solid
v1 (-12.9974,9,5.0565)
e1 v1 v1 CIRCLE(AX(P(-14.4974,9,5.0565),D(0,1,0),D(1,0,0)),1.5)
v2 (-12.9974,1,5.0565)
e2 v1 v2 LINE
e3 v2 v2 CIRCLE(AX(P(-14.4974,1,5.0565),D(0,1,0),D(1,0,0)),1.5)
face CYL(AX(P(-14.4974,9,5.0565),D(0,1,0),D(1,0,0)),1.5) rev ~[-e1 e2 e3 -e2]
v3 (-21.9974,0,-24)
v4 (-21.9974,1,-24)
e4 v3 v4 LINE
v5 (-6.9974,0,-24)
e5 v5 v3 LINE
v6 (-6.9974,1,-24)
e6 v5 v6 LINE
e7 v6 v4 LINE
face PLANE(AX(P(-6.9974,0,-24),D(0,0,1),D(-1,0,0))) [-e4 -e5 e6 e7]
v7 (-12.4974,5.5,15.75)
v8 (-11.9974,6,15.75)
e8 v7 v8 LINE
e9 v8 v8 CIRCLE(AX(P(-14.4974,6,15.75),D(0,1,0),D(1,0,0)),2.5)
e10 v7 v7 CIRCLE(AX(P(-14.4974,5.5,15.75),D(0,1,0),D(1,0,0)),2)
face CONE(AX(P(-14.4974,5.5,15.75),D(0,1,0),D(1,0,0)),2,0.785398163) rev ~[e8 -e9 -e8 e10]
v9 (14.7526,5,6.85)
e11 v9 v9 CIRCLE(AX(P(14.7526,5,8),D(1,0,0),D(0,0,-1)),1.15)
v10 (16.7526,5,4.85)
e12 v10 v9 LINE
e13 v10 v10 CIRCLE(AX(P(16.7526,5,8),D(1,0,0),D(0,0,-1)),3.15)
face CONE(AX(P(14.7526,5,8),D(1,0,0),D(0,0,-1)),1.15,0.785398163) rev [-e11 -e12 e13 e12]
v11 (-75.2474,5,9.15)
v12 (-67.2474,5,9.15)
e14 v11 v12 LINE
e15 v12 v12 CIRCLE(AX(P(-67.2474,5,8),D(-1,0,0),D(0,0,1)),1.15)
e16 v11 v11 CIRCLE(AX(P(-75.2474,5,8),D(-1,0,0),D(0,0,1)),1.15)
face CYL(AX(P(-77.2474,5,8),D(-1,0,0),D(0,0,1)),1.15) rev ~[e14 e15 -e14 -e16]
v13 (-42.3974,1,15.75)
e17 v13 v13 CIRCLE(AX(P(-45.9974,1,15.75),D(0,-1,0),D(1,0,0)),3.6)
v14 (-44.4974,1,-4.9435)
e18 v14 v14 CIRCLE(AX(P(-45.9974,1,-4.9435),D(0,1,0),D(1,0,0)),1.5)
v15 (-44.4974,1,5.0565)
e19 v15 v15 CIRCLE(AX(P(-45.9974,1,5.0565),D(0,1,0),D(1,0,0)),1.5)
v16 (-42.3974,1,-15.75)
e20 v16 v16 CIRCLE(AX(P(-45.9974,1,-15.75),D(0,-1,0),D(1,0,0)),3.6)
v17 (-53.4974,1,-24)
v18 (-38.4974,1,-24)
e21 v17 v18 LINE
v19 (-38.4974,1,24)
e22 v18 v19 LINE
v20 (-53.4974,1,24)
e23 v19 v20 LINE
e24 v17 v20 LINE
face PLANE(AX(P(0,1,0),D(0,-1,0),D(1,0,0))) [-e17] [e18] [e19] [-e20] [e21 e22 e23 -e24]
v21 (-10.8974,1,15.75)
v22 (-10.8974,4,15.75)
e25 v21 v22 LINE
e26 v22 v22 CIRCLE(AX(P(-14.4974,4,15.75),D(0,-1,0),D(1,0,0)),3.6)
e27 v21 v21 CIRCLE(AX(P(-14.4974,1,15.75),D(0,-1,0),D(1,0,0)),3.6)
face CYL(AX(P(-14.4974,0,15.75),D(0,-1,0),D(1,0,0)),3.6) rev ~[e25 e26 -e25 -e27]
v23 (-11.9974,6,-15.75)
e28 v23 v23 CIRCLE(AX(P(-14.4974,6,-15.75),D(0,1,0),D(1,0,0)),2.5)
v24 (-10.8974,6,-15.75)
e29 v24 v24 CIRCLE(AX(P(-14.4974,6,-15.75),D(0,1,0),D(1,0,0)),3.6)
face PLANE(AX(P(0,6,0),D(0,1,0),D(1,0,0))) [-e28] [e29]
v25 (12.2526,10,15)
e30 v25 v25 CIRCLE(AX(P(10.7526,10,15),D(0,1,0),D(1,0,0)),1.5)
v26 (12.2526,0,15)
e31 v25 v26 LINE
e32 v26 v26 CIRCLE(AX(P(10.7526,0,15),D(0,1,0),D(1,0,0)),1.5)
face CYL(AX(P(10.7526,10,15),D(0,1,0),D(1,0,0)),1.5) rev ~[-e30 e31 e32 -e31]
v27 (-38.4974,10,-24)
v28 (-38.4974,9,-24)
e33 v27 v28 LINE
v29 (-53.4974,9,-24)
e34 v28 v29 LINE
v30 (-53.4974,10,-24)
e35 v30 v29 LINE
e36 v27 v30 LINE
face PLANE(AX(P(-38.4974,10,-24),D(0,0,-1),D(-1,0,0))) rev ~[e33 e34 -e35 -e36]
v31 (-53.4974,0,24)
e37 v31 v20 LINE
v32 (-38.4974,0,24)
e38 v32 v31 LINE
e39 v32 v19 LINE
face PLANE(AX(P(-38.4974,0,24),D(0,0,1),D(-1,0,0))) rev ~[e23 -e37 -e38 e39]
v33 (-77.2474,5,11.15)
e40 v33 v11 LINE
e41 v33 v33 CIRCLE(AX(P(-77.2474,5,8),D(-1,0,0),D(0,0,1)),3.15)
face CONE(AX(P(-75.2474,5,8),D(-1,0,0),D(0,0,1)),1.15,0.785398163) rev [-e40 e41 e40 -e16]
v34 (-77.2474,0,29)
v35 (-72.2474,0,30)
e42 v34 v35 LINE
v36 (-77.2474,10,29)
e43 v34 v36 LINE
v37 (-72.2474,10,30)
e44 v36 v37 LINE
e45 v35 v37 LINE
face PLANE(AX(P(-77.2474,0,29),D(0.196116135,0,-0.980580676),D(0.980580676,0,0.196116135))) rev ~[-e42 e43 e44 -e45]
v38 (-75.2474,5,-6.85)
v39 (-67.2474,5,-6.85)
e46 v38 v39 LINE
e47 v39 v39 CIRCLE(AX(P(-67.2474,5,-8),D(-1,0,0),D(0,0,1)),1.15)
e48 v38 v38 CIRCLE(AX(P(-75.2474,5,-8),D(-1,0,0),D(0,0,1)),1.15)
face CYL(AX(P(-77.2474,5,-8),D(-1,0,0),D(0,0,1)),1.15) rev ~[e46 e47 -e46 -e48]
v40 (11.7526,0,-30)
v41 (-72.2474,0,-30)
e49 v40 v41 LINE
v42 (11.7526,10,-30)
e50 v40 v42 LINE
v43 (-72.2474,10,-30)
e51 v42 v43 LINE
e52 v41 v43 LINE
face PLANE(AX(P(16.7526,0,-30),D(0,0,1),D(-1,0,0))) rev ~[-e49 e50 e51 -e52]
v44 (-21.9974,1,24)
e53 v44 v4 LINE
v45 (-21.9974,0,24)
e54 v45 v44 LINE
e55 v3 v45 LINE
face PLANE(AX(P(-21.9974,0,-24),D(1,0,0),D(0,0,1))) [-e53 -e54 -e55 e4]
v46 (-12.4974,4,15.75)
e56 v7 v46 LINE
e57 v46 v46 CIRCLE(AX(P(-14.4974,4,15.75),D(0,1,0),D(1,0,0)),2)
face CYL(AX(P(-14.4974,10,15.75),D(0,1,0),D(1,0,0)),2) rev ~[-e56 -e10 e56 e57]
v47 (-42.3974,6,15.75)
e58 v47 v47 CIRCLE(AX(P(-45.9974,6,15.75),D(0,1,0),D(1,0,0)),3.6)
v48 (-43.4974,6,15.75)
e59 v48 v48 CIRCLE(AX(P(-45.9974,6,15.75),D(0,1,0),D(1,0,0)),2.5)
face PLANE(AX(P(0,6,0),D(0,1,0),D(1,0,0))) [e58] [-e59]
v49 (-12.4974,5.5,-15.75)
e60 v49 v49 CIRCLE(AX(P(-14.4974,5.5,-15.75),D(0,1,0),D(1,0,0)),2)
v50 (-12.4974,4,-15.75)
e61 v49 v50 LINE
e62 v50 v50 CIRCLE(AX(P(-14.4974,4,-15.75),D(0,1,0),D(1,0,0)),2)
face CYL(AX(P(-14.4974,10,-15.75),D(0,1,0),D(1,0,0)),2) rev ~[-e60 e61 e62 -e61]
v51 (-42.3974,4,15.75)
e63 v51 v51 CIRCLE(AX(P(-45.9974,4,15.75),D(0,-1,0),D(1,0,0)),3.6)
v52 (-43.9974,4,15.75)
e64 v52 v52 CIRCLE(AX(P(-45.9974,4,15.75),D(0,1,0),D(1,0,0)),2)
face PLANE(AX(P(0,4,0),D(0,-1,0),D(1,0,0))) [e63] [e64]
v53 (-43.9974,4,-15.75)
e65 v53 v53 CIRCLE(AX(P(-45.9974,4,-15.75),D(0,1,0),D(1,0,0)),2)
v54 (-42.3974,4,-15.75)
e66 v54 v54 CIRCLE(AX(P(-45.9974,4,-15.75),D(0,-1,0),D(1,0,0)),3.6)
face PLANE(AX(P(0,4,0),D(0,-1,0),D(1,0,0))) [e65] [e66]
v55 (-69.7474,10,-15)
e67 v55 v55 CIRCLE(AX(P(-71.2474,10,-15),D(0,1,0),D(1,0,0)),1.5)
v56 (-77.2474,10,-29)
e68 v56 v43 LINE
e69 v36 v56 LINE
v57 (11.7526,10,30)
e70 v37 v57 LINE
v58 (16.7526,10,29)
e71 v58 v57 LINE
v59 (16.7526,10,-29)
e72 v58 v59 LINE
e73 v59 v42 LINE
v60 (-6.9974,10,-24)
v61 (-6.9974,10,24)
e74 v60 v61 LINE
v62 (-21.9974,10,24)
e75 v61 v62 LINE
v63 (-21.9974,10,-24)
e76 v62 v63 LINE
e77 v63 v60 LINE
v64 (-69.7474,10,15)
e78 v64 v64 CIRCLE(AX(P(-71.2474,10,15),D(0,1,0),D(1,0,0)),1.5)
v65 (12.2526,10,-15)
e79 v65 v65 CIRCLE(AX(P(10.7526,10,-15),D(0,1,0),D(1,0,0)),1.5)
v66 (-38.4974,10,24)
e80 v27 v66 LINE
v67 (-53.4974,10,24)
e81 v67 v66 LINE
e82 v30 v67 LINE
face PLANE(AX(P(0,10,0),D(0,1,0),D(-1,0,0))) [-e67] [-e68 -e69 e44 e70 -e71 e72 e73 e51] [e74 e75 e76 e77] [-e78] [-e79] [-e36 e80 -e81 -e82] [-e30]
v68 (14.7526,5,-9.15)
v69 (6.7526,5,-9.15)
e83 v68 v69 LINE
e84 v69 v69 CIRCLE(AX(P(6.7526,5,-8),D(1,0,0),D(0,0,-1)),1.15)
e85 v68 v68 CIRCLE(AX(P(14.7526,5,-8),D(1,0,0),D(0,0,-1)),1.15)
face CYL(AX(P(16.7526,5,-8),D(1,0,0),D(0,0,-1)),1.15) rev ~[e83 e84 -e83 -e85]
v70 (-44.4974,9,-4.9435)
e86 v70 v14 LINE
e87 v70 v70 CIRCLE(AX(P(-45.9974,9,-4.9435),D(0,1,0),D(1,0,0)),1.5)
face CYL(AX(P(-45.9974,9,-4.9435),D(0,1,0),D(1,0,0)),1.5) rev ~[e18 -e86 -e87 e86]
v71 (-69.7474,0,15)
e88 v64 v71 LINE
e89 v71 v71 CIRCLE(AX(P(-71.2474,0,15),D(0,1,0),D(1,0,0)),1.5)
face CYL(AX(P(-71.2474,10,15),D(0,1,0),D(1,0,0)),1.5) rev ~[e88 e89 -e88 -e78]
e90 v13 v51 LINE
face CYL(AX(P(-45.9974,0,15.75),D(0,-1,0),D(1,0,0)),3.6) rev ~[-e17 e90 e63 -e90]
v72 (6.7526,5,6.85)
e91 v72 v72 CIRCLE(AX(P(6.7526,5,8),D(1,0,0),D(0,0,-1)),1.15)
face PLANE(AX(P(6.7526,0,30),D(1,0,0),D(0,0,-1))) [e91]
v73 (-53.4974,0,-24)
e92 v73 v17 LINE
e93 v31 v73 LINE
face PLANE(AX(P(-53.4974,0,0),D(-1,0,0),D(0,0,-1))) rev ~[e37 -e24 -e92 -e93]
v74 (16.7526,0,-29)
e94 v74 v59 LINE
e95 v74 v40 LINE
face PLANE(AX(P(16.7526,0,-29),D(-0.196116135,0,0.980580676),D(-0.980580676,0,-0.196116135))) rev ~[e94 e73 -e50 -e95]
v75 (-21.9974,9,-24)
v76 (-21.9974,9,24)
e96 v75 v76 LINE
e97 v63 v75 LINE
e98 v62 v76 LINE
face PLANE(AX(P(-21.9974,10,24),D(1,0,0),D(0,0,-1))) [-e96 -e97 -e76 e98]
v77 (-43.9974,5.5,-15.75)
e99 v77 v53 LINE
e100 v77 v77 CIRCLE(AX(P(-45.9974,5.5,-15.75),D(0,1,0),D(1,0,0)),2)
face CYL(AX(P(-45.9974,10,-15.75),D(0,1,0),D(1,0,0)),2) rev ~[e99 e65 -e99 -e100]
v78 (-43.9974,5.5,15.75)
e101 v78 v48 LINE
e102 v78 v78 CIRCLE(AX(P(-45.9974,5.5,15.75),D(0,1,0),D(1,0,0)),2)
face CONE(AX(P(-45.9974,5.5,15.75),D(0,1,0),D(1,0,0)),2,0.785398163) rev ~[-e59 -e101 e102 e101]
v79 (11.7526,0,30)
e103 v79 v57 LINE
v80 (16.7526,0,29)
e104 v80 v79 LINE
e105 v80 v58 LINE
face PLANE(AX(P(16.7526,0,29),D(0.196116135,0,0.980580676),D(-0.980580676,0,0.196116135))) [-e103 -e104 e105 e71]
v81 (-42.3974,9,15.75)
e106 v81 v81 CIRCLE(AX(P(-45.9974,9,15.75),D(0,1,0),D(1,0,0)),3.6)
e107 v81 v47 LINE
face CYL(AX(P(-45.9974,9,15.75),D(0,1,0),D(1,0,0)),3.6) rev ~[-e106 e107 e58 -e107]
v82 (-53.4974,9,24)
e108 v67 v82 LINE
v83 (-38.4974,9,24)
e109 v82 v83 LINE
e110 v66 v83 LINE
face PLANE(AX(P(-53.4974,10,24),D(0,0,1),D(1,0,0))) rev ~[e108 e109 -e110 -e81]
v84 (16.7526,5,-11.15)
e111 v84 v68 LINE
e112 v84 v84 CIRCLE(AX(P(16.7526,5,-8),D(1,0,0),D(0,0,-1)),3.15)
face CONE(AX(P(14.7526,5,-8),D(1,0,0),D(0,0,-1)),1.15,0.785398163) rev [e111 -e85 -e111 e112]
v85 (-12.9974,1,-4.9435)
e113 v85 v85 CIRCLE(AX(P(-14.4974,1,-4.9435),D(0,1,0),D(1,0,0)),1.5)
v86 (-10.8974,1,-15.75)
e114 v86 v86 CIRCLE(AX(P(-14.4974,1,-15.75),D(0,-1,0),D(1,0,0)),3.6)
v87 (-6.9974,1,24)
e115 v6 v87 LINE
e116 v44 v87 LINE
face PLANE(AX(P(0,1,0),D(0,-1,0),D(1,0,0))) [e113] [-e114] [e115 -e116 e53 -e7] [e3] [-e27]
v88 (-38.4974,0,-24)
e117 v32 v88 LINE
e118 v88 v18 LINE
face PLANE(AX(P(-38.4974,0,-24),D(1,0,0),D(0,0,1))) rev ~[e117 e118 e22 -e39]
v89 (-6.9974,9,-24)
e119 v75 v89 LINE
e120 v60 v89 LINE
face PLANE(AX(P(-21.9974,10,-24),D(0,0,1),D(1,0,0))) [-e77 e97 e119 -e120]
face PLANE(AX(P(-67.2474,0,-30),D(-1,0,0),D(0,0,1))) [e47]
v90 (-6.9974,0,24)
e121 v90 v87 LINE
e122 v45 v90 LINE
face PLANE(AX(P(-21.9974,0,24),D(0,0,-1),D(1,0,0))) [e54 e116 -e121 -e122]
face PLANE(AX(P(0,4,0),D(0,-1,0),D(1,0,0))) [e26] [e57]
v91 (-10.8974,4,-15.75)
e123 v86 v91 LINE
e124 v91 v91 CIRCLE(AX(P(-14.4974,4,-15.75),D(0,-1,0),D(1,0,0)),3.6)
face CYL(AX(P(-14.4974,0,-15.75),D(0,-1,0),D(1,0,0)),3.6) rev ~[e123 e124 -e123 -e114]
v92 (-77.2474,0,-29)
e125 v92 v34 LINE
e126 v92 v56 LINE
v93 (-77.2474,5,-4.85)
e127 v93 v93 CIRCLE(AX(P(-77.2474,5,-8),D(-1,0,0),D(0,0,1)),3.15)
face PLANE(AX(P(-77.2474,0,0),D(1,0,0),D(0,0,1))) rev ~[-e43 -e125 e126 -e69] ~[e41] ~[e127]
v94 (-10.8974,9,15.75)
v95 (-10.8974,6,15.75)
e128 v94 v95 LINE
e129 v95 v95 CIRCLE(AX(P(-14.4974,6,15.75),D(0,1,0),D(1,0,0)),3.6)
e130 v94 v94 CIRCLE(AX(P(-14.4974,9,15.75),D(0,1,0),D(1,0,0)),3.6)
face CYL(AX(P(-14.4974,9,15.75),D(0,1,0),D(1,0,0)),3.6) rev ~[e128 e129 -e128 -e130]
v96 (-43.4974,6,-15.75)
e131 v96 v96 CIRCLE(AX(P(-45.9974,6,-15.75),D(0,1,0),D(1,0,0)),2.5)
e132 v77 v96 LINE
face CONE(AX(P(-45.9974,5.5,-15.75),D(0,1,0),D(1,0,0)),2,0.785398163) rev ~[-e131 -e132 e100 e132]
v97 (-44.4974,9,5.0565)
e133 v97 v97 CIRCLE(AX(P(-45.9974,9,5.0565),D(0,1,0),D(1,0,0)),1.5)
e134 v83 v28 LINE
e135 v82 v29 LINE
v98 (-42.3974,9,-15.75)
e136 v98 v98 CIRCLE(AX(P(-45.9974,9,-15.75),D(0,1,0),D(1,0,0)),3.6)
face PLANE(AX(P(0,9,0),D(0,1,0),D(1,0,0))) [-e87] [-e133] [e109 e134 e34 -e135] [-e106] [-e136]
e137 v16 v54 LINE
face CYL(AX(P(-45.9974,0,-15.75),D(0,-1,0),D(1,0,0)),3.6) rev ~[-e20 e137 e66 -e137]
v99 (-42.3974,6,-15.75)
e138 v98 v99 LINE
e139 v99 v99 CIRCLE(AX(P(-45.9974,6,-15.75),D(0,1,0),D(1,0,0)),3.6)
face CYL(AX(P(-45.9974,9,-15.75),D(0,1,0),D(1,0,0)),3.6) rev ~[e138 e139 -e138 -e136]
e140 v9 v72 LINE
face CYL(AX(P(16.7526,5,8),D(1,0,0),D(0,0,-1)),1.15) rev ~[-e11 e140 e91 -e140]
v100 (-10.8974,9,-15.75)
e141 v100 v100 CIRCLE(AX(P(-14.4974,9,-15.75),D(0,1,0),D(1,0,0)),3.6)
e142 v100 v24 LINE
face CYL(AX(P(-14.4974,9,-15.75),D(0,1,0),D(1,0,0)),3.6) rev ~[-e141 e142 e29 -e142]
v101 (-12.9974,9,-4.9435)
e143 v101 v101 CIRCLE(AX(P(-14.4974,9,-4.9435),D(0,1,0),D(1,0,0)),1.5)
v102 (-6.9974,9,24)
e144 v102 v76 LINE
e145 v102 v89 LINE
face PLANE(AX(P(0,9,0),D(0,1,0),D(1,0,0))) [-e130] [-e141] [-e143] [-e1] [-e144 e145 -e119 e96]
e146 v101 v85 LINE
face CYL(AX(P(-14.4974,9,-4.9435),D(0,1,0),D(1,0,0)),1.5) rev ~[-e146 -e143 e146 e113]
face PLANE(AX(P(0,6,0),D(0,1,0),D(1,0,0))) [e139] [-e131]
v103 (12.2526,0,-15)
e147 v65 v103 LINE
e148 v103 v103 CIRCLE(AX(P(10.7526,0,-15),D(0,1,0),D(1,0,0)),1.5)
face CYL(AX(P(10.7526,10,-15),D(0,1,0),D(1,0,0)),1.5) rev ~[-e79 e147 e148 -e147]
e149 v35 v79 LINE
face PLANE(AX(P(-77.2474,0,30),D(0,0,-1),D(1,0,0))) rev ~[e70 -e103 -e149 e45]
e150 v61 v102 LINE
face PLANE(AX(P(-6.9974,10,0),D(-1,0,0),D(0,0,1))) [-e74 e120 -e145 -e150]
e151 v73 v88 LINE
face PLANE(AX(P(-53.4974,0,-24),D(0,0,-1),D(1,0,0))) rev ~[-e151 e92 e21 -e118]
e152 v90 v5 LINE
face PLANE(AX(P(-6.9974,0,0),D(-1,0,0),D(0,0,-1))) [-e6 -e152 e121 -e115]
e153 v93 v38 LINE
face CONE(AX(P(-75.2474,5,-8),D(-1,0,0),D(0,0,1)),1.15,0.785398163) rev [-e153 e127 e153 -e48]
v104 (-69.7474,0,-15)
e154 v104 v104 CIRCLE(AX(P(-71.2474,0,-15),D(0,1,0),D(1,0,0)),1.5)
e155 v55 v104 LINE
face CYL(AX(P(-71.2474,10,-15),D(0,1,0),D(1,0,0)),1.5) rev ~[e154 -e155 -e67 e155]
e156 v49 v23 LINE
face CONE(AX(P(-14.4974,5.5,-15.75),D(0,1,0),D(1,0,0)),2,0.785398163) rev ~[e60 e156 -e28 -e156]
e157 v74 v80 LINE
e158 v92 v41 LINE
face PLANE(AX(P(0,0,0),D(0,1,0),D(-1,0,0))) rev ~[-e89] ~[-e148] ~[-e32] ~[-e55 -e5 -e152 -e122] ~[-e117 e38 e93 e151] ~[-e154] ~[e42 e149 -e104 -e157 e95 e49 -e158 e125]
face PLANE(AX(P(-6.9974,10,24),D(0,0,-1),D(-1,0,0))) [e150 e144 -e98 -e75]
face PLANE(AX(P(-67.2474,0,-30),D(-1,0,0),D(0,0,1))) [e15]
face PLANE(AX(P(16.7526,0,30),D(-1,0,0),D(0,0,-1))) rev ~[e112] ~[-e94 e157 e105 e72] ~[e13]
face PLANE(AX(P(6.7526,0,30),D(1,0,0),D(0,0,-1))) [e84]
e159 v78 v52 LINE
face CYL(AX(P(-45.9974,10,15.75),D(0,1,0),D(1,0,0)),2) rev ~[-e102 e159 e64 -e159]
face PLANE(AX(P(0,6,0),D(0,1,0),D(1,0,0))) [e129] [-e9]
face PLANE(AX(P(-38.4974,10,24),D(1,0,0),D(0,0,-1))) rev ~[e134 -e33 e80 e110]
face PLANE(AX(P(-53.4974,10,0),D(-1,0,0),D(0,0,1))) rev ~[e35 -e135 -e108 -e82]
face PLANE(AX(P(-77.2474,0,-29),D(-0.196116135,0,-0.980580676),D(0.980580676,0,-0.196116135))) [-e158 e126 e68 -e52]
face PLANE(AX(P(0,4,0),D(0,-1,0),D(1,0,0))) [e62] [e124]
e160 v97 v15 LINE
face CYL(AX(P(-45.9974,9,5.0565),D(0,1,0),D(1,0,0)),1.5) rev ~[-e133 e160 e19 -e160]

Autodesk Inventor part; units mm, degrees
ref_plane "YZ Plane" through (0, 0, 0) normal (1, 0, 0) x (0, 1, 0)
ref_plane "XZ Plane" through (0, 0, 0) normal (0, 1, 0) x (-1, 0, 0)
ref_plane "XY Plane" through (0, 0, 0) normal (0, 0, 1) x (1, 0, 0)
sketch "Skizze1" plane through (0, 0, 0) normal (0, 1, 0) x (-1, 0, 0)
  line L0 (77.2474, 30) -> (-16.7526, 30)
  line L1 (-16.7526, 30) -> (-16.7526, -30)
  line L2 (-16.7526, -30) -> (77.2474, -30)
  line L3 (77.2474, -30) -> (77.2474, 30)
  line L4 (-35.5526, 0) -> (96.0474, 0) projected
  point P0 (0, 0)
  dimension "d0" = 30
  dimension "d1" = 60
  dimension "d2" = 94
extrude "Extrusion1" add sketch "Skizze1" along normal blind 10
sketch "Skizze4" plane through (0, 10, 0) normal (0, 1, 0) x (1, 0, 0)
  circle A0 centre (-14.4974, -15.75) radius 2
  circle A1 centre (-14.4974, 15.75) radius 2
  circle A2 centre (-45.9974, -15.75) radius 2
  circle A3 centre (-45.9974, 15.75) radius 2
  line L0 (35.5526, 0) -> (-96.0474, 0) projected
  line L1 (16.7526, -30) -> (16.7526, 30) projected
  line L2 (-77.2474, 30) -> (-77.2474, -30) projected
  point P0 (0, 0)
  dimension "d21" = 4
  dimension "d22" = 15.75
  dimension "d23" = 15.75
  dimension "d26" = 15.75
  dimension "d27" = 15.75
  dimension "d30" = 4
  dimension "d31" = 4
  dimension "d32" = 4
  dimension "d127" = 31.5
  dimension "d128" = 31.5
  dimension "d129" = 31.25
  dimension "d130" = 31.25
extrude "Extrusion4" cut sketch "Skizze4" against normal blind 10
sketch "Skizze5" plane through (0, 10, 0) normal (0, 1, 0) x (1, 0, 0)
  line L0 (-6.9974, -24) -> (-21.9974, -24)
  line L1 (-21.9974, -24) -> (-21.9974, 24)
  line L2 (-21.9974, 24) -> (-6.9974, 24)
  line L3 (-6.9974, 24) -> (-6.9974, -24)
  line L4 (-38.4974, 24) -> (-53.4974, 24)
  line L5 (-53.4974, 24) -> (-53.4974, -24)
  line L6 (-53.4974, -24) -> (-38.4974, -24)
  line L7 (-38.4974, -24) -> (-38.4974, 24)
  line L8 (35.5526, 0) -> (-96.0474, 0) projected
  line L9 (16.7526, -30) -> (16.7526, 30) projected
  line L10 (-77.2474, 30) -> (-77.2474, -30) projected
  point P0 (0, 0)
  dimension "d35" = 15
  dimension "d36" = 48
  dimension "d37" = 24
  dimension "d38" = 23.75
  dimension "d39" = 15
  dimension "d189" = 16.5
extrude "Extrusion5" cut sketch "Skizze5" against normal blind 1
sketch "Skizze6" plane through (0, 9, 0) normal (0, 1, 0) x (1, 0, 0)
  circle A0 centre (-14.4974, -15.75) radius 3.6
  circle A1 centre (-14.4974, 15.75) radius 3.6
  circle A2 centre (-45.9974, -15.75) radius 3.6
  circle A3 centre (-45.9974, 15.75) radius 3.6
  circle A4 centre (-45.9974, 15.75) radius 2 projected
  circle A5 centre (-45.9974, -15.75) radius 2 projected
  circle A6 centre (-14.4974, 15.75) radius 2 projected
  circle A7 centre (-14.4974, -15.75) radius 2 projected
  circle A8 centre (-3.2474, -15.75) radius 3.6
  circle A9 centre (-3.2474, 15.75) radius 3.6
  circle A10 centre (-45.9974, -15.75) radius 3.6
  circle A11 centre (-53.2474, 15.75) radius 3.6
  circle A12 centre (-53.2474, 15.75) radius 2
  circle A13 centre (-45.9974, -15.75) radius 2
  circle A14 centre (-3.2474, 15.75) radius 2
  circle A15 centre (-3.2474, -15.75) radius 2
  circle A16 centre (-3.2474, -15.75) radius 3.6
  circle A17 centre (-3.2474, 15.75) radius 3.6
  circle A18 centre (-45.9974, -15.75) radius 3.6
  circle A19 centre (-53.2474, 15.75) radius 3.6
  circle A20 centre (-53.2474, 15.75) radius 2
  circle A21 centre (-45.9974, -15.75) radius 2
  circle A22 centre (-3.2474, 15.75) radius 2
  circle A23 centre (-3.2474, -15.75) radius 2
  circle A24 centre (-3.2474, -15.75) radius 3.6
  circle A25 centre (-3.2474, 15.75) radius 3.6
  circle A26 centre (-53.2474, -15.75) radius 3.6
  circle A27 centre (-53.2474, 15.75) radius 3.6
  circle A28 centre (-53.2474, 15.75) radius 2
  circle A29 centre (-53.2474, -15.75) radius 2
  circle A30 centre (-3.2474, 15.75) radius 2
  circle A31 centre (-3.2474, -15.75) radius 2
  line L0 (-77.2474, 30) -> (-77.2474, -30) projected
  point P0 (0, 0)
  point P1 (0, 0)
  point P2 (0, 0)
  point P3 (0, 0)
  point P4 (-45.7474, 16.7182)
  point P5 (-45.7474, 14.7818)
  point P6 (-45.7474, -14.7818)
  point P7 (-45.7474, -16.7182)
  point P8 (-10.7474, 14.7818)
  point P9 (-10.7474, 16.7182)
  point P10 (-10.7474, -16.7182)
  point P11 (-10.7474, -14.7818)
  dimension "d43" = 7.2
  dimension "d44" = 7.2
  dimension "d45" = 7.2
  dimension "d46" = 7.2
  dimension "d79" = 7.2
  dimension "d80" = 7.2
  dimension "d81" = 7.2
  dimension "d82" = 7.2
  dimension "d83" = 7.2
  dimension "d84" = 7.2
  dimension "d85" = 7.2
  dimension "d86" = 7.2
  dimension "d87" = 7.2
  dimension "d88" = 7.2
  dimension "d89" = 7.2
  dimension "d90" = 7.2
  dimension "d142" = 31.25
  dimension "d143" = 31.25
extrude "Extrusion6" cut sketch "Skizze6" against normal blind 3 contours A0 | A1 | A2 | A3 | A4 | A5 | A6 | A7
sketch "Skizze8" plane through (0, 9, 0) normal (0, 1, 0) x (1, 0, 0)
  circle A0 centre (-14.4974, -5.0565) radius 1.5
  circle A1 centre (-14.4974, 4.9435) radius 1.5
  circle A2 centre (-45.9974, -5.0565) radius 1.5
  circle A3 centre (-45.9974, 4.9435) radius 1.5
  line L0 (-77.2474, 30) -> (-77.2474, -30) projected
  line L1 (16.7526, -30) -> (16.7526, 30) projected
  point P0 (0, 0)
  dimension "d56" = 10
  dimension "d57" = 10
  dimension "d58" = 31.25
  dimension "d59" = 31.25
  dimension "d62" = 3
  dimension "d63" = 3
  dimension "d64" = 3
  dimension "d65" = 3
  dimension "d146" = 31.25
extrude "Extrusion7" cut sketch "Skizze8" against normal blind 10
chamfer "Fase1" distance 0.5 angle 45 4 edges at (-47.9974, 6, 15.75) (-47.9974, 6, -15.75) (-16.4974, 6, -15.75) (-16.4974, 6, 15.75)
sketch "Skizze9" plane through (0, 0, 0) normal (0, -1, 0) x (1, 0, 0)
  line L0 (-6.9974, -24) -> (-21.9974, -24)
  line L1 (-21.9974, -24) -> (-21.9974, 24)
  line L2 (-21.9974, 24) -> (-6.9974, 24)
  line L3 (-6.9974, 24) -> (-6.9974, -24)
  line L4 (-38.4974, 24) -> (-53.4974, 24)
  line L5 (-53.4974, 24) -> (-53.4974, -24)
  line L6 (-53.4974, -24) -> (-38.4974, -24)
  line L7 (-38.4974, -24) -> (-38.4974, 24)
  line L8 (34.7526, 0) -> (-91.2474, 0)
  line L9 (16.7526, 30) -> (16.7526, -30) projected
  line L10 (-77.2474, -30) -> (-77.2474, 30) projected
  point P0 (0, 0)
  point P1 (0, 0)
  dimension "d71" = 15
  dimension "d72" = 48
  dimension "d73" = 24
  dimension "d75" = 15
  dimension "d144" = 23.75
  dimension "d145" = 23.75
extrude "Extrusion8" cut sketch "Skizze9" against normal blind 1
sketch "Skizze10" plane through (0, 0, 0) normal (0, -1, 0) x (1, 0, 0)
  circle A0 centre (-14.4974, -15.75) radius 3.6
  circle A1 centre (-14.4974, 15.75) radius 3.6
  circle A2 centre (-45.9974, -15.75) radius 3.6
  circle A3 centre (-45.9974, 15.75) radius 3.6
  circle A4 centre (-45.9974, 15.75) radius 2
  circle A5 centre (-45.9974, -15.75) radius 2
  circle A6 centre (-14.4974, 15.75) radius 2
  circle A7 centre (-14.4974, -15.75) radius 2
  circle A8 centre (-3.2474, -15.75) radius 3.6
  circle A9 centre (-3.2474, 15.75) radius 3.6
  circle A10 centre (-45.9974, -15.75) radius 3.6
  circle A11 centre (-53.2474, 15.75) radius 3.6
  circle A12 centre (-53.2474, 15.75) radius 2
  circle A13 centre (-45.9974, -15.75) radius 2
  circle A14 centre (-3.2474, 15.75) radius 2
  circle A15 centre (-3.2474, -15.75) radius 2
  circle A16 centre (-3.2474, -15.75) radius 3.6
  circle A17 centre (-3.2474, 15.75) radius 3.6
  circle A18 centre (-53.2474, -15.75) radius 3.6
  circle A19 centre (-53.2474, 15.75) radius 3.6
  circle A20 centre (-53.2474, 15.75) radius 2
  circle A21 centre (-53.2474, -15.75) radius 2
  circle A22 centre (-3.2474, 15.75) radius 2
  circle A23 centre (-3.2474, -15.75) radius 2
  circle A24 centre (-3.2474, -15.75) radius 3.6
  circle A25 centre (-3.2474, 15.75) radius 3.6
  circle A26 centre (-53.2474, -15.75) radius 3.6
  circle A27 centre (-53.2474, 15.75) radius 3.6
  circle A28 centre (-53.2474, 15.75) radius 2
  circle A29 centre (-53.2474, -15.75) radius 2
  circle A30 centre (-3.2474, 15.75) radius 2
  circle A31 centre (-3.2474, -15.75) radius 2
  line L0 (-77.2474, -30) -> (-77.2474, 30) projected
  line L1 (16.7526, 30) -> (16.7526, -30) projected
  point P0 (0, 0)
  point P1 (0, 0)
  point P2 (0, 0)
  point P3 (0, 0)
  point P4 (0, 0)
  dimension "d91" = 7.2
  dimension "d92" = 7.2
  dimension "d93" = 7.2
  dimension "d94" = 7.2
  dimension "d95" = 7.2
  dimension "d96" = 7.2
  dimension "d97" = 7.2
  dimension "d98" = 7.2
  dimension "d99" = 7.2
  dimension "d100" = 7.2
  dimension "d101" = 7.2
  dimension "d102" = 7.2
  dimension "d103" = 7.2
  dimension "d104" = 7.2
  dimension "d105" = 7.2
  dimension "d106" = 7.2
  dimension "d147" = 31.25
  dimension "d148" = 31.25
  dimension "d149" = 31.25
  dimension "d150" = 31.25
  dimension "d151" = 31.25
extrude "Extrusion9" cut sketch "Skizze10" against normal blind 4 contours A0 | A1 | A2 | A3 | A4 | A5 | A6 | A7
sketch "Skizze12" plane through (0, 10, 0) normal (0, 1, 0) x (1, 0, 0)
  circle A0 centre (-71.2474, -15) radius 1.5
  circle A1 centre (-71.2474, 15) radius 1.5
  circle A2 centre (10.7526, 15) radius 1.5
  circle A3 centre (10.7526, -15) radius 1.5
  line L0 (-77.2474, 30) -> (-77.2474, -30) projected
  line L1 (16.7526, -30) -> (16.7526, 30) projected
  point P0 (0, 0)
  dimension "d121" = 3
  dimension "d122" = 3
  dimension "d123" = 3
  dimension "d124" = 3
  dimension "d131" = 82
  dimension "d132" = 82
  dimension "d138" = 6
  dimension "d139" = 6
extrude "Extrusion11" cut sketch "Skizze12" against normal blind 60
sketch "Skizze15" plane through (-77.2474, 0, -30) normal (-1, 0, 0) x (0, 0, 1)
  circle A0 centre (38, 5) radius 1.15
  circle A1 centre (22, 5) radius 1.15
  line L0 (30, 12) -> (30, -2) projected
  line L1 (0, 10) -> (60, 10) projected
  point P0 (30, 0)
  dimension "d158" = 8
  dimension "d159" = 8
  dimension "d160" = 5
  dimension "d163" = 2.3
  dimension "d164" = 2.3
extrude "Extrusion13" cut sketch "Skizze15" against normal blind 10
chamfer "Fase2" distance 2 angle 45 2 edges at (-77.2474, 5, 6.85) (-77.2474, 5, -9.15)
sketch "Skizze16" plane through (16.7526, 0, 30) normal (1, 0, 0) x (0, 0, -1)
  circle A0 centre (38, 5) radius 1.15
  circle A1 centre (22, 5) radius 1.15
  line L0 (0, 10) -> (60, 10) projected
  line L1 (30, -2) -> (30, 12) projected
  point P0 (30, 0)
  dimension "d168" = 5
  dimension "d169" = 5
  dimension "d170" = 8
  dimension "d171" = 8
  dimension "d172" = 2.3
  dimension "d173" = 2.3
extrude "Extrusion14" cut sketch "Skizze16" against normal blind 10
chamfer "Fase3" distance 2 angle 45 2 edges at (16.7526, 5, 9.15) (16.7526, 5, -6.85)
sketch "Skizze17" plane through (0, 0, 0) normal (0, -1, 0) x (1, 0, 0)
  line L0 (16.7526, 30) -> (11.7526, 30)
  line L1 (16.7526, 29) -> (11.7526, 30)
  line L2 (16.7526, 29) -> (16.7526, 30)
  line L3 (16.7526, -30) -> (11.7526, -30)
  line L4 (16.7526, -29) -> (11.7526, -30)
  line L5 (16.7526, -29) -> (16.7526, -30)
  line L6 (-77.2474, -30) -> (-72.2474, -30)
  line L7 (-77.2474, -30) -> (-77.2474, -29)
  line L8 (-77.2474, -29) -> (-72.2474, -30)
  line L9 (-77.2474, 30) -> (-72.2474, 30)
  line L10 (-77.2474, 30) -> (-77.2474, 29)
  line L11 (-77.2474, 29) -> (-72.2474, 30)
  point P0 (0, 0)
  dimension "d179" = 1
  dimension "d180" = 5
  dimension "d181" = 5
  dimension "d182" = 1
  dimension "d183" = 1
  dimension "d184" = 5
  dimension "d185" = 5
  dimension "d186" = 1
extrude "Extrusion15" cut sketch "Skizze17" against normal blind 10
properties part number "guidingplate"
